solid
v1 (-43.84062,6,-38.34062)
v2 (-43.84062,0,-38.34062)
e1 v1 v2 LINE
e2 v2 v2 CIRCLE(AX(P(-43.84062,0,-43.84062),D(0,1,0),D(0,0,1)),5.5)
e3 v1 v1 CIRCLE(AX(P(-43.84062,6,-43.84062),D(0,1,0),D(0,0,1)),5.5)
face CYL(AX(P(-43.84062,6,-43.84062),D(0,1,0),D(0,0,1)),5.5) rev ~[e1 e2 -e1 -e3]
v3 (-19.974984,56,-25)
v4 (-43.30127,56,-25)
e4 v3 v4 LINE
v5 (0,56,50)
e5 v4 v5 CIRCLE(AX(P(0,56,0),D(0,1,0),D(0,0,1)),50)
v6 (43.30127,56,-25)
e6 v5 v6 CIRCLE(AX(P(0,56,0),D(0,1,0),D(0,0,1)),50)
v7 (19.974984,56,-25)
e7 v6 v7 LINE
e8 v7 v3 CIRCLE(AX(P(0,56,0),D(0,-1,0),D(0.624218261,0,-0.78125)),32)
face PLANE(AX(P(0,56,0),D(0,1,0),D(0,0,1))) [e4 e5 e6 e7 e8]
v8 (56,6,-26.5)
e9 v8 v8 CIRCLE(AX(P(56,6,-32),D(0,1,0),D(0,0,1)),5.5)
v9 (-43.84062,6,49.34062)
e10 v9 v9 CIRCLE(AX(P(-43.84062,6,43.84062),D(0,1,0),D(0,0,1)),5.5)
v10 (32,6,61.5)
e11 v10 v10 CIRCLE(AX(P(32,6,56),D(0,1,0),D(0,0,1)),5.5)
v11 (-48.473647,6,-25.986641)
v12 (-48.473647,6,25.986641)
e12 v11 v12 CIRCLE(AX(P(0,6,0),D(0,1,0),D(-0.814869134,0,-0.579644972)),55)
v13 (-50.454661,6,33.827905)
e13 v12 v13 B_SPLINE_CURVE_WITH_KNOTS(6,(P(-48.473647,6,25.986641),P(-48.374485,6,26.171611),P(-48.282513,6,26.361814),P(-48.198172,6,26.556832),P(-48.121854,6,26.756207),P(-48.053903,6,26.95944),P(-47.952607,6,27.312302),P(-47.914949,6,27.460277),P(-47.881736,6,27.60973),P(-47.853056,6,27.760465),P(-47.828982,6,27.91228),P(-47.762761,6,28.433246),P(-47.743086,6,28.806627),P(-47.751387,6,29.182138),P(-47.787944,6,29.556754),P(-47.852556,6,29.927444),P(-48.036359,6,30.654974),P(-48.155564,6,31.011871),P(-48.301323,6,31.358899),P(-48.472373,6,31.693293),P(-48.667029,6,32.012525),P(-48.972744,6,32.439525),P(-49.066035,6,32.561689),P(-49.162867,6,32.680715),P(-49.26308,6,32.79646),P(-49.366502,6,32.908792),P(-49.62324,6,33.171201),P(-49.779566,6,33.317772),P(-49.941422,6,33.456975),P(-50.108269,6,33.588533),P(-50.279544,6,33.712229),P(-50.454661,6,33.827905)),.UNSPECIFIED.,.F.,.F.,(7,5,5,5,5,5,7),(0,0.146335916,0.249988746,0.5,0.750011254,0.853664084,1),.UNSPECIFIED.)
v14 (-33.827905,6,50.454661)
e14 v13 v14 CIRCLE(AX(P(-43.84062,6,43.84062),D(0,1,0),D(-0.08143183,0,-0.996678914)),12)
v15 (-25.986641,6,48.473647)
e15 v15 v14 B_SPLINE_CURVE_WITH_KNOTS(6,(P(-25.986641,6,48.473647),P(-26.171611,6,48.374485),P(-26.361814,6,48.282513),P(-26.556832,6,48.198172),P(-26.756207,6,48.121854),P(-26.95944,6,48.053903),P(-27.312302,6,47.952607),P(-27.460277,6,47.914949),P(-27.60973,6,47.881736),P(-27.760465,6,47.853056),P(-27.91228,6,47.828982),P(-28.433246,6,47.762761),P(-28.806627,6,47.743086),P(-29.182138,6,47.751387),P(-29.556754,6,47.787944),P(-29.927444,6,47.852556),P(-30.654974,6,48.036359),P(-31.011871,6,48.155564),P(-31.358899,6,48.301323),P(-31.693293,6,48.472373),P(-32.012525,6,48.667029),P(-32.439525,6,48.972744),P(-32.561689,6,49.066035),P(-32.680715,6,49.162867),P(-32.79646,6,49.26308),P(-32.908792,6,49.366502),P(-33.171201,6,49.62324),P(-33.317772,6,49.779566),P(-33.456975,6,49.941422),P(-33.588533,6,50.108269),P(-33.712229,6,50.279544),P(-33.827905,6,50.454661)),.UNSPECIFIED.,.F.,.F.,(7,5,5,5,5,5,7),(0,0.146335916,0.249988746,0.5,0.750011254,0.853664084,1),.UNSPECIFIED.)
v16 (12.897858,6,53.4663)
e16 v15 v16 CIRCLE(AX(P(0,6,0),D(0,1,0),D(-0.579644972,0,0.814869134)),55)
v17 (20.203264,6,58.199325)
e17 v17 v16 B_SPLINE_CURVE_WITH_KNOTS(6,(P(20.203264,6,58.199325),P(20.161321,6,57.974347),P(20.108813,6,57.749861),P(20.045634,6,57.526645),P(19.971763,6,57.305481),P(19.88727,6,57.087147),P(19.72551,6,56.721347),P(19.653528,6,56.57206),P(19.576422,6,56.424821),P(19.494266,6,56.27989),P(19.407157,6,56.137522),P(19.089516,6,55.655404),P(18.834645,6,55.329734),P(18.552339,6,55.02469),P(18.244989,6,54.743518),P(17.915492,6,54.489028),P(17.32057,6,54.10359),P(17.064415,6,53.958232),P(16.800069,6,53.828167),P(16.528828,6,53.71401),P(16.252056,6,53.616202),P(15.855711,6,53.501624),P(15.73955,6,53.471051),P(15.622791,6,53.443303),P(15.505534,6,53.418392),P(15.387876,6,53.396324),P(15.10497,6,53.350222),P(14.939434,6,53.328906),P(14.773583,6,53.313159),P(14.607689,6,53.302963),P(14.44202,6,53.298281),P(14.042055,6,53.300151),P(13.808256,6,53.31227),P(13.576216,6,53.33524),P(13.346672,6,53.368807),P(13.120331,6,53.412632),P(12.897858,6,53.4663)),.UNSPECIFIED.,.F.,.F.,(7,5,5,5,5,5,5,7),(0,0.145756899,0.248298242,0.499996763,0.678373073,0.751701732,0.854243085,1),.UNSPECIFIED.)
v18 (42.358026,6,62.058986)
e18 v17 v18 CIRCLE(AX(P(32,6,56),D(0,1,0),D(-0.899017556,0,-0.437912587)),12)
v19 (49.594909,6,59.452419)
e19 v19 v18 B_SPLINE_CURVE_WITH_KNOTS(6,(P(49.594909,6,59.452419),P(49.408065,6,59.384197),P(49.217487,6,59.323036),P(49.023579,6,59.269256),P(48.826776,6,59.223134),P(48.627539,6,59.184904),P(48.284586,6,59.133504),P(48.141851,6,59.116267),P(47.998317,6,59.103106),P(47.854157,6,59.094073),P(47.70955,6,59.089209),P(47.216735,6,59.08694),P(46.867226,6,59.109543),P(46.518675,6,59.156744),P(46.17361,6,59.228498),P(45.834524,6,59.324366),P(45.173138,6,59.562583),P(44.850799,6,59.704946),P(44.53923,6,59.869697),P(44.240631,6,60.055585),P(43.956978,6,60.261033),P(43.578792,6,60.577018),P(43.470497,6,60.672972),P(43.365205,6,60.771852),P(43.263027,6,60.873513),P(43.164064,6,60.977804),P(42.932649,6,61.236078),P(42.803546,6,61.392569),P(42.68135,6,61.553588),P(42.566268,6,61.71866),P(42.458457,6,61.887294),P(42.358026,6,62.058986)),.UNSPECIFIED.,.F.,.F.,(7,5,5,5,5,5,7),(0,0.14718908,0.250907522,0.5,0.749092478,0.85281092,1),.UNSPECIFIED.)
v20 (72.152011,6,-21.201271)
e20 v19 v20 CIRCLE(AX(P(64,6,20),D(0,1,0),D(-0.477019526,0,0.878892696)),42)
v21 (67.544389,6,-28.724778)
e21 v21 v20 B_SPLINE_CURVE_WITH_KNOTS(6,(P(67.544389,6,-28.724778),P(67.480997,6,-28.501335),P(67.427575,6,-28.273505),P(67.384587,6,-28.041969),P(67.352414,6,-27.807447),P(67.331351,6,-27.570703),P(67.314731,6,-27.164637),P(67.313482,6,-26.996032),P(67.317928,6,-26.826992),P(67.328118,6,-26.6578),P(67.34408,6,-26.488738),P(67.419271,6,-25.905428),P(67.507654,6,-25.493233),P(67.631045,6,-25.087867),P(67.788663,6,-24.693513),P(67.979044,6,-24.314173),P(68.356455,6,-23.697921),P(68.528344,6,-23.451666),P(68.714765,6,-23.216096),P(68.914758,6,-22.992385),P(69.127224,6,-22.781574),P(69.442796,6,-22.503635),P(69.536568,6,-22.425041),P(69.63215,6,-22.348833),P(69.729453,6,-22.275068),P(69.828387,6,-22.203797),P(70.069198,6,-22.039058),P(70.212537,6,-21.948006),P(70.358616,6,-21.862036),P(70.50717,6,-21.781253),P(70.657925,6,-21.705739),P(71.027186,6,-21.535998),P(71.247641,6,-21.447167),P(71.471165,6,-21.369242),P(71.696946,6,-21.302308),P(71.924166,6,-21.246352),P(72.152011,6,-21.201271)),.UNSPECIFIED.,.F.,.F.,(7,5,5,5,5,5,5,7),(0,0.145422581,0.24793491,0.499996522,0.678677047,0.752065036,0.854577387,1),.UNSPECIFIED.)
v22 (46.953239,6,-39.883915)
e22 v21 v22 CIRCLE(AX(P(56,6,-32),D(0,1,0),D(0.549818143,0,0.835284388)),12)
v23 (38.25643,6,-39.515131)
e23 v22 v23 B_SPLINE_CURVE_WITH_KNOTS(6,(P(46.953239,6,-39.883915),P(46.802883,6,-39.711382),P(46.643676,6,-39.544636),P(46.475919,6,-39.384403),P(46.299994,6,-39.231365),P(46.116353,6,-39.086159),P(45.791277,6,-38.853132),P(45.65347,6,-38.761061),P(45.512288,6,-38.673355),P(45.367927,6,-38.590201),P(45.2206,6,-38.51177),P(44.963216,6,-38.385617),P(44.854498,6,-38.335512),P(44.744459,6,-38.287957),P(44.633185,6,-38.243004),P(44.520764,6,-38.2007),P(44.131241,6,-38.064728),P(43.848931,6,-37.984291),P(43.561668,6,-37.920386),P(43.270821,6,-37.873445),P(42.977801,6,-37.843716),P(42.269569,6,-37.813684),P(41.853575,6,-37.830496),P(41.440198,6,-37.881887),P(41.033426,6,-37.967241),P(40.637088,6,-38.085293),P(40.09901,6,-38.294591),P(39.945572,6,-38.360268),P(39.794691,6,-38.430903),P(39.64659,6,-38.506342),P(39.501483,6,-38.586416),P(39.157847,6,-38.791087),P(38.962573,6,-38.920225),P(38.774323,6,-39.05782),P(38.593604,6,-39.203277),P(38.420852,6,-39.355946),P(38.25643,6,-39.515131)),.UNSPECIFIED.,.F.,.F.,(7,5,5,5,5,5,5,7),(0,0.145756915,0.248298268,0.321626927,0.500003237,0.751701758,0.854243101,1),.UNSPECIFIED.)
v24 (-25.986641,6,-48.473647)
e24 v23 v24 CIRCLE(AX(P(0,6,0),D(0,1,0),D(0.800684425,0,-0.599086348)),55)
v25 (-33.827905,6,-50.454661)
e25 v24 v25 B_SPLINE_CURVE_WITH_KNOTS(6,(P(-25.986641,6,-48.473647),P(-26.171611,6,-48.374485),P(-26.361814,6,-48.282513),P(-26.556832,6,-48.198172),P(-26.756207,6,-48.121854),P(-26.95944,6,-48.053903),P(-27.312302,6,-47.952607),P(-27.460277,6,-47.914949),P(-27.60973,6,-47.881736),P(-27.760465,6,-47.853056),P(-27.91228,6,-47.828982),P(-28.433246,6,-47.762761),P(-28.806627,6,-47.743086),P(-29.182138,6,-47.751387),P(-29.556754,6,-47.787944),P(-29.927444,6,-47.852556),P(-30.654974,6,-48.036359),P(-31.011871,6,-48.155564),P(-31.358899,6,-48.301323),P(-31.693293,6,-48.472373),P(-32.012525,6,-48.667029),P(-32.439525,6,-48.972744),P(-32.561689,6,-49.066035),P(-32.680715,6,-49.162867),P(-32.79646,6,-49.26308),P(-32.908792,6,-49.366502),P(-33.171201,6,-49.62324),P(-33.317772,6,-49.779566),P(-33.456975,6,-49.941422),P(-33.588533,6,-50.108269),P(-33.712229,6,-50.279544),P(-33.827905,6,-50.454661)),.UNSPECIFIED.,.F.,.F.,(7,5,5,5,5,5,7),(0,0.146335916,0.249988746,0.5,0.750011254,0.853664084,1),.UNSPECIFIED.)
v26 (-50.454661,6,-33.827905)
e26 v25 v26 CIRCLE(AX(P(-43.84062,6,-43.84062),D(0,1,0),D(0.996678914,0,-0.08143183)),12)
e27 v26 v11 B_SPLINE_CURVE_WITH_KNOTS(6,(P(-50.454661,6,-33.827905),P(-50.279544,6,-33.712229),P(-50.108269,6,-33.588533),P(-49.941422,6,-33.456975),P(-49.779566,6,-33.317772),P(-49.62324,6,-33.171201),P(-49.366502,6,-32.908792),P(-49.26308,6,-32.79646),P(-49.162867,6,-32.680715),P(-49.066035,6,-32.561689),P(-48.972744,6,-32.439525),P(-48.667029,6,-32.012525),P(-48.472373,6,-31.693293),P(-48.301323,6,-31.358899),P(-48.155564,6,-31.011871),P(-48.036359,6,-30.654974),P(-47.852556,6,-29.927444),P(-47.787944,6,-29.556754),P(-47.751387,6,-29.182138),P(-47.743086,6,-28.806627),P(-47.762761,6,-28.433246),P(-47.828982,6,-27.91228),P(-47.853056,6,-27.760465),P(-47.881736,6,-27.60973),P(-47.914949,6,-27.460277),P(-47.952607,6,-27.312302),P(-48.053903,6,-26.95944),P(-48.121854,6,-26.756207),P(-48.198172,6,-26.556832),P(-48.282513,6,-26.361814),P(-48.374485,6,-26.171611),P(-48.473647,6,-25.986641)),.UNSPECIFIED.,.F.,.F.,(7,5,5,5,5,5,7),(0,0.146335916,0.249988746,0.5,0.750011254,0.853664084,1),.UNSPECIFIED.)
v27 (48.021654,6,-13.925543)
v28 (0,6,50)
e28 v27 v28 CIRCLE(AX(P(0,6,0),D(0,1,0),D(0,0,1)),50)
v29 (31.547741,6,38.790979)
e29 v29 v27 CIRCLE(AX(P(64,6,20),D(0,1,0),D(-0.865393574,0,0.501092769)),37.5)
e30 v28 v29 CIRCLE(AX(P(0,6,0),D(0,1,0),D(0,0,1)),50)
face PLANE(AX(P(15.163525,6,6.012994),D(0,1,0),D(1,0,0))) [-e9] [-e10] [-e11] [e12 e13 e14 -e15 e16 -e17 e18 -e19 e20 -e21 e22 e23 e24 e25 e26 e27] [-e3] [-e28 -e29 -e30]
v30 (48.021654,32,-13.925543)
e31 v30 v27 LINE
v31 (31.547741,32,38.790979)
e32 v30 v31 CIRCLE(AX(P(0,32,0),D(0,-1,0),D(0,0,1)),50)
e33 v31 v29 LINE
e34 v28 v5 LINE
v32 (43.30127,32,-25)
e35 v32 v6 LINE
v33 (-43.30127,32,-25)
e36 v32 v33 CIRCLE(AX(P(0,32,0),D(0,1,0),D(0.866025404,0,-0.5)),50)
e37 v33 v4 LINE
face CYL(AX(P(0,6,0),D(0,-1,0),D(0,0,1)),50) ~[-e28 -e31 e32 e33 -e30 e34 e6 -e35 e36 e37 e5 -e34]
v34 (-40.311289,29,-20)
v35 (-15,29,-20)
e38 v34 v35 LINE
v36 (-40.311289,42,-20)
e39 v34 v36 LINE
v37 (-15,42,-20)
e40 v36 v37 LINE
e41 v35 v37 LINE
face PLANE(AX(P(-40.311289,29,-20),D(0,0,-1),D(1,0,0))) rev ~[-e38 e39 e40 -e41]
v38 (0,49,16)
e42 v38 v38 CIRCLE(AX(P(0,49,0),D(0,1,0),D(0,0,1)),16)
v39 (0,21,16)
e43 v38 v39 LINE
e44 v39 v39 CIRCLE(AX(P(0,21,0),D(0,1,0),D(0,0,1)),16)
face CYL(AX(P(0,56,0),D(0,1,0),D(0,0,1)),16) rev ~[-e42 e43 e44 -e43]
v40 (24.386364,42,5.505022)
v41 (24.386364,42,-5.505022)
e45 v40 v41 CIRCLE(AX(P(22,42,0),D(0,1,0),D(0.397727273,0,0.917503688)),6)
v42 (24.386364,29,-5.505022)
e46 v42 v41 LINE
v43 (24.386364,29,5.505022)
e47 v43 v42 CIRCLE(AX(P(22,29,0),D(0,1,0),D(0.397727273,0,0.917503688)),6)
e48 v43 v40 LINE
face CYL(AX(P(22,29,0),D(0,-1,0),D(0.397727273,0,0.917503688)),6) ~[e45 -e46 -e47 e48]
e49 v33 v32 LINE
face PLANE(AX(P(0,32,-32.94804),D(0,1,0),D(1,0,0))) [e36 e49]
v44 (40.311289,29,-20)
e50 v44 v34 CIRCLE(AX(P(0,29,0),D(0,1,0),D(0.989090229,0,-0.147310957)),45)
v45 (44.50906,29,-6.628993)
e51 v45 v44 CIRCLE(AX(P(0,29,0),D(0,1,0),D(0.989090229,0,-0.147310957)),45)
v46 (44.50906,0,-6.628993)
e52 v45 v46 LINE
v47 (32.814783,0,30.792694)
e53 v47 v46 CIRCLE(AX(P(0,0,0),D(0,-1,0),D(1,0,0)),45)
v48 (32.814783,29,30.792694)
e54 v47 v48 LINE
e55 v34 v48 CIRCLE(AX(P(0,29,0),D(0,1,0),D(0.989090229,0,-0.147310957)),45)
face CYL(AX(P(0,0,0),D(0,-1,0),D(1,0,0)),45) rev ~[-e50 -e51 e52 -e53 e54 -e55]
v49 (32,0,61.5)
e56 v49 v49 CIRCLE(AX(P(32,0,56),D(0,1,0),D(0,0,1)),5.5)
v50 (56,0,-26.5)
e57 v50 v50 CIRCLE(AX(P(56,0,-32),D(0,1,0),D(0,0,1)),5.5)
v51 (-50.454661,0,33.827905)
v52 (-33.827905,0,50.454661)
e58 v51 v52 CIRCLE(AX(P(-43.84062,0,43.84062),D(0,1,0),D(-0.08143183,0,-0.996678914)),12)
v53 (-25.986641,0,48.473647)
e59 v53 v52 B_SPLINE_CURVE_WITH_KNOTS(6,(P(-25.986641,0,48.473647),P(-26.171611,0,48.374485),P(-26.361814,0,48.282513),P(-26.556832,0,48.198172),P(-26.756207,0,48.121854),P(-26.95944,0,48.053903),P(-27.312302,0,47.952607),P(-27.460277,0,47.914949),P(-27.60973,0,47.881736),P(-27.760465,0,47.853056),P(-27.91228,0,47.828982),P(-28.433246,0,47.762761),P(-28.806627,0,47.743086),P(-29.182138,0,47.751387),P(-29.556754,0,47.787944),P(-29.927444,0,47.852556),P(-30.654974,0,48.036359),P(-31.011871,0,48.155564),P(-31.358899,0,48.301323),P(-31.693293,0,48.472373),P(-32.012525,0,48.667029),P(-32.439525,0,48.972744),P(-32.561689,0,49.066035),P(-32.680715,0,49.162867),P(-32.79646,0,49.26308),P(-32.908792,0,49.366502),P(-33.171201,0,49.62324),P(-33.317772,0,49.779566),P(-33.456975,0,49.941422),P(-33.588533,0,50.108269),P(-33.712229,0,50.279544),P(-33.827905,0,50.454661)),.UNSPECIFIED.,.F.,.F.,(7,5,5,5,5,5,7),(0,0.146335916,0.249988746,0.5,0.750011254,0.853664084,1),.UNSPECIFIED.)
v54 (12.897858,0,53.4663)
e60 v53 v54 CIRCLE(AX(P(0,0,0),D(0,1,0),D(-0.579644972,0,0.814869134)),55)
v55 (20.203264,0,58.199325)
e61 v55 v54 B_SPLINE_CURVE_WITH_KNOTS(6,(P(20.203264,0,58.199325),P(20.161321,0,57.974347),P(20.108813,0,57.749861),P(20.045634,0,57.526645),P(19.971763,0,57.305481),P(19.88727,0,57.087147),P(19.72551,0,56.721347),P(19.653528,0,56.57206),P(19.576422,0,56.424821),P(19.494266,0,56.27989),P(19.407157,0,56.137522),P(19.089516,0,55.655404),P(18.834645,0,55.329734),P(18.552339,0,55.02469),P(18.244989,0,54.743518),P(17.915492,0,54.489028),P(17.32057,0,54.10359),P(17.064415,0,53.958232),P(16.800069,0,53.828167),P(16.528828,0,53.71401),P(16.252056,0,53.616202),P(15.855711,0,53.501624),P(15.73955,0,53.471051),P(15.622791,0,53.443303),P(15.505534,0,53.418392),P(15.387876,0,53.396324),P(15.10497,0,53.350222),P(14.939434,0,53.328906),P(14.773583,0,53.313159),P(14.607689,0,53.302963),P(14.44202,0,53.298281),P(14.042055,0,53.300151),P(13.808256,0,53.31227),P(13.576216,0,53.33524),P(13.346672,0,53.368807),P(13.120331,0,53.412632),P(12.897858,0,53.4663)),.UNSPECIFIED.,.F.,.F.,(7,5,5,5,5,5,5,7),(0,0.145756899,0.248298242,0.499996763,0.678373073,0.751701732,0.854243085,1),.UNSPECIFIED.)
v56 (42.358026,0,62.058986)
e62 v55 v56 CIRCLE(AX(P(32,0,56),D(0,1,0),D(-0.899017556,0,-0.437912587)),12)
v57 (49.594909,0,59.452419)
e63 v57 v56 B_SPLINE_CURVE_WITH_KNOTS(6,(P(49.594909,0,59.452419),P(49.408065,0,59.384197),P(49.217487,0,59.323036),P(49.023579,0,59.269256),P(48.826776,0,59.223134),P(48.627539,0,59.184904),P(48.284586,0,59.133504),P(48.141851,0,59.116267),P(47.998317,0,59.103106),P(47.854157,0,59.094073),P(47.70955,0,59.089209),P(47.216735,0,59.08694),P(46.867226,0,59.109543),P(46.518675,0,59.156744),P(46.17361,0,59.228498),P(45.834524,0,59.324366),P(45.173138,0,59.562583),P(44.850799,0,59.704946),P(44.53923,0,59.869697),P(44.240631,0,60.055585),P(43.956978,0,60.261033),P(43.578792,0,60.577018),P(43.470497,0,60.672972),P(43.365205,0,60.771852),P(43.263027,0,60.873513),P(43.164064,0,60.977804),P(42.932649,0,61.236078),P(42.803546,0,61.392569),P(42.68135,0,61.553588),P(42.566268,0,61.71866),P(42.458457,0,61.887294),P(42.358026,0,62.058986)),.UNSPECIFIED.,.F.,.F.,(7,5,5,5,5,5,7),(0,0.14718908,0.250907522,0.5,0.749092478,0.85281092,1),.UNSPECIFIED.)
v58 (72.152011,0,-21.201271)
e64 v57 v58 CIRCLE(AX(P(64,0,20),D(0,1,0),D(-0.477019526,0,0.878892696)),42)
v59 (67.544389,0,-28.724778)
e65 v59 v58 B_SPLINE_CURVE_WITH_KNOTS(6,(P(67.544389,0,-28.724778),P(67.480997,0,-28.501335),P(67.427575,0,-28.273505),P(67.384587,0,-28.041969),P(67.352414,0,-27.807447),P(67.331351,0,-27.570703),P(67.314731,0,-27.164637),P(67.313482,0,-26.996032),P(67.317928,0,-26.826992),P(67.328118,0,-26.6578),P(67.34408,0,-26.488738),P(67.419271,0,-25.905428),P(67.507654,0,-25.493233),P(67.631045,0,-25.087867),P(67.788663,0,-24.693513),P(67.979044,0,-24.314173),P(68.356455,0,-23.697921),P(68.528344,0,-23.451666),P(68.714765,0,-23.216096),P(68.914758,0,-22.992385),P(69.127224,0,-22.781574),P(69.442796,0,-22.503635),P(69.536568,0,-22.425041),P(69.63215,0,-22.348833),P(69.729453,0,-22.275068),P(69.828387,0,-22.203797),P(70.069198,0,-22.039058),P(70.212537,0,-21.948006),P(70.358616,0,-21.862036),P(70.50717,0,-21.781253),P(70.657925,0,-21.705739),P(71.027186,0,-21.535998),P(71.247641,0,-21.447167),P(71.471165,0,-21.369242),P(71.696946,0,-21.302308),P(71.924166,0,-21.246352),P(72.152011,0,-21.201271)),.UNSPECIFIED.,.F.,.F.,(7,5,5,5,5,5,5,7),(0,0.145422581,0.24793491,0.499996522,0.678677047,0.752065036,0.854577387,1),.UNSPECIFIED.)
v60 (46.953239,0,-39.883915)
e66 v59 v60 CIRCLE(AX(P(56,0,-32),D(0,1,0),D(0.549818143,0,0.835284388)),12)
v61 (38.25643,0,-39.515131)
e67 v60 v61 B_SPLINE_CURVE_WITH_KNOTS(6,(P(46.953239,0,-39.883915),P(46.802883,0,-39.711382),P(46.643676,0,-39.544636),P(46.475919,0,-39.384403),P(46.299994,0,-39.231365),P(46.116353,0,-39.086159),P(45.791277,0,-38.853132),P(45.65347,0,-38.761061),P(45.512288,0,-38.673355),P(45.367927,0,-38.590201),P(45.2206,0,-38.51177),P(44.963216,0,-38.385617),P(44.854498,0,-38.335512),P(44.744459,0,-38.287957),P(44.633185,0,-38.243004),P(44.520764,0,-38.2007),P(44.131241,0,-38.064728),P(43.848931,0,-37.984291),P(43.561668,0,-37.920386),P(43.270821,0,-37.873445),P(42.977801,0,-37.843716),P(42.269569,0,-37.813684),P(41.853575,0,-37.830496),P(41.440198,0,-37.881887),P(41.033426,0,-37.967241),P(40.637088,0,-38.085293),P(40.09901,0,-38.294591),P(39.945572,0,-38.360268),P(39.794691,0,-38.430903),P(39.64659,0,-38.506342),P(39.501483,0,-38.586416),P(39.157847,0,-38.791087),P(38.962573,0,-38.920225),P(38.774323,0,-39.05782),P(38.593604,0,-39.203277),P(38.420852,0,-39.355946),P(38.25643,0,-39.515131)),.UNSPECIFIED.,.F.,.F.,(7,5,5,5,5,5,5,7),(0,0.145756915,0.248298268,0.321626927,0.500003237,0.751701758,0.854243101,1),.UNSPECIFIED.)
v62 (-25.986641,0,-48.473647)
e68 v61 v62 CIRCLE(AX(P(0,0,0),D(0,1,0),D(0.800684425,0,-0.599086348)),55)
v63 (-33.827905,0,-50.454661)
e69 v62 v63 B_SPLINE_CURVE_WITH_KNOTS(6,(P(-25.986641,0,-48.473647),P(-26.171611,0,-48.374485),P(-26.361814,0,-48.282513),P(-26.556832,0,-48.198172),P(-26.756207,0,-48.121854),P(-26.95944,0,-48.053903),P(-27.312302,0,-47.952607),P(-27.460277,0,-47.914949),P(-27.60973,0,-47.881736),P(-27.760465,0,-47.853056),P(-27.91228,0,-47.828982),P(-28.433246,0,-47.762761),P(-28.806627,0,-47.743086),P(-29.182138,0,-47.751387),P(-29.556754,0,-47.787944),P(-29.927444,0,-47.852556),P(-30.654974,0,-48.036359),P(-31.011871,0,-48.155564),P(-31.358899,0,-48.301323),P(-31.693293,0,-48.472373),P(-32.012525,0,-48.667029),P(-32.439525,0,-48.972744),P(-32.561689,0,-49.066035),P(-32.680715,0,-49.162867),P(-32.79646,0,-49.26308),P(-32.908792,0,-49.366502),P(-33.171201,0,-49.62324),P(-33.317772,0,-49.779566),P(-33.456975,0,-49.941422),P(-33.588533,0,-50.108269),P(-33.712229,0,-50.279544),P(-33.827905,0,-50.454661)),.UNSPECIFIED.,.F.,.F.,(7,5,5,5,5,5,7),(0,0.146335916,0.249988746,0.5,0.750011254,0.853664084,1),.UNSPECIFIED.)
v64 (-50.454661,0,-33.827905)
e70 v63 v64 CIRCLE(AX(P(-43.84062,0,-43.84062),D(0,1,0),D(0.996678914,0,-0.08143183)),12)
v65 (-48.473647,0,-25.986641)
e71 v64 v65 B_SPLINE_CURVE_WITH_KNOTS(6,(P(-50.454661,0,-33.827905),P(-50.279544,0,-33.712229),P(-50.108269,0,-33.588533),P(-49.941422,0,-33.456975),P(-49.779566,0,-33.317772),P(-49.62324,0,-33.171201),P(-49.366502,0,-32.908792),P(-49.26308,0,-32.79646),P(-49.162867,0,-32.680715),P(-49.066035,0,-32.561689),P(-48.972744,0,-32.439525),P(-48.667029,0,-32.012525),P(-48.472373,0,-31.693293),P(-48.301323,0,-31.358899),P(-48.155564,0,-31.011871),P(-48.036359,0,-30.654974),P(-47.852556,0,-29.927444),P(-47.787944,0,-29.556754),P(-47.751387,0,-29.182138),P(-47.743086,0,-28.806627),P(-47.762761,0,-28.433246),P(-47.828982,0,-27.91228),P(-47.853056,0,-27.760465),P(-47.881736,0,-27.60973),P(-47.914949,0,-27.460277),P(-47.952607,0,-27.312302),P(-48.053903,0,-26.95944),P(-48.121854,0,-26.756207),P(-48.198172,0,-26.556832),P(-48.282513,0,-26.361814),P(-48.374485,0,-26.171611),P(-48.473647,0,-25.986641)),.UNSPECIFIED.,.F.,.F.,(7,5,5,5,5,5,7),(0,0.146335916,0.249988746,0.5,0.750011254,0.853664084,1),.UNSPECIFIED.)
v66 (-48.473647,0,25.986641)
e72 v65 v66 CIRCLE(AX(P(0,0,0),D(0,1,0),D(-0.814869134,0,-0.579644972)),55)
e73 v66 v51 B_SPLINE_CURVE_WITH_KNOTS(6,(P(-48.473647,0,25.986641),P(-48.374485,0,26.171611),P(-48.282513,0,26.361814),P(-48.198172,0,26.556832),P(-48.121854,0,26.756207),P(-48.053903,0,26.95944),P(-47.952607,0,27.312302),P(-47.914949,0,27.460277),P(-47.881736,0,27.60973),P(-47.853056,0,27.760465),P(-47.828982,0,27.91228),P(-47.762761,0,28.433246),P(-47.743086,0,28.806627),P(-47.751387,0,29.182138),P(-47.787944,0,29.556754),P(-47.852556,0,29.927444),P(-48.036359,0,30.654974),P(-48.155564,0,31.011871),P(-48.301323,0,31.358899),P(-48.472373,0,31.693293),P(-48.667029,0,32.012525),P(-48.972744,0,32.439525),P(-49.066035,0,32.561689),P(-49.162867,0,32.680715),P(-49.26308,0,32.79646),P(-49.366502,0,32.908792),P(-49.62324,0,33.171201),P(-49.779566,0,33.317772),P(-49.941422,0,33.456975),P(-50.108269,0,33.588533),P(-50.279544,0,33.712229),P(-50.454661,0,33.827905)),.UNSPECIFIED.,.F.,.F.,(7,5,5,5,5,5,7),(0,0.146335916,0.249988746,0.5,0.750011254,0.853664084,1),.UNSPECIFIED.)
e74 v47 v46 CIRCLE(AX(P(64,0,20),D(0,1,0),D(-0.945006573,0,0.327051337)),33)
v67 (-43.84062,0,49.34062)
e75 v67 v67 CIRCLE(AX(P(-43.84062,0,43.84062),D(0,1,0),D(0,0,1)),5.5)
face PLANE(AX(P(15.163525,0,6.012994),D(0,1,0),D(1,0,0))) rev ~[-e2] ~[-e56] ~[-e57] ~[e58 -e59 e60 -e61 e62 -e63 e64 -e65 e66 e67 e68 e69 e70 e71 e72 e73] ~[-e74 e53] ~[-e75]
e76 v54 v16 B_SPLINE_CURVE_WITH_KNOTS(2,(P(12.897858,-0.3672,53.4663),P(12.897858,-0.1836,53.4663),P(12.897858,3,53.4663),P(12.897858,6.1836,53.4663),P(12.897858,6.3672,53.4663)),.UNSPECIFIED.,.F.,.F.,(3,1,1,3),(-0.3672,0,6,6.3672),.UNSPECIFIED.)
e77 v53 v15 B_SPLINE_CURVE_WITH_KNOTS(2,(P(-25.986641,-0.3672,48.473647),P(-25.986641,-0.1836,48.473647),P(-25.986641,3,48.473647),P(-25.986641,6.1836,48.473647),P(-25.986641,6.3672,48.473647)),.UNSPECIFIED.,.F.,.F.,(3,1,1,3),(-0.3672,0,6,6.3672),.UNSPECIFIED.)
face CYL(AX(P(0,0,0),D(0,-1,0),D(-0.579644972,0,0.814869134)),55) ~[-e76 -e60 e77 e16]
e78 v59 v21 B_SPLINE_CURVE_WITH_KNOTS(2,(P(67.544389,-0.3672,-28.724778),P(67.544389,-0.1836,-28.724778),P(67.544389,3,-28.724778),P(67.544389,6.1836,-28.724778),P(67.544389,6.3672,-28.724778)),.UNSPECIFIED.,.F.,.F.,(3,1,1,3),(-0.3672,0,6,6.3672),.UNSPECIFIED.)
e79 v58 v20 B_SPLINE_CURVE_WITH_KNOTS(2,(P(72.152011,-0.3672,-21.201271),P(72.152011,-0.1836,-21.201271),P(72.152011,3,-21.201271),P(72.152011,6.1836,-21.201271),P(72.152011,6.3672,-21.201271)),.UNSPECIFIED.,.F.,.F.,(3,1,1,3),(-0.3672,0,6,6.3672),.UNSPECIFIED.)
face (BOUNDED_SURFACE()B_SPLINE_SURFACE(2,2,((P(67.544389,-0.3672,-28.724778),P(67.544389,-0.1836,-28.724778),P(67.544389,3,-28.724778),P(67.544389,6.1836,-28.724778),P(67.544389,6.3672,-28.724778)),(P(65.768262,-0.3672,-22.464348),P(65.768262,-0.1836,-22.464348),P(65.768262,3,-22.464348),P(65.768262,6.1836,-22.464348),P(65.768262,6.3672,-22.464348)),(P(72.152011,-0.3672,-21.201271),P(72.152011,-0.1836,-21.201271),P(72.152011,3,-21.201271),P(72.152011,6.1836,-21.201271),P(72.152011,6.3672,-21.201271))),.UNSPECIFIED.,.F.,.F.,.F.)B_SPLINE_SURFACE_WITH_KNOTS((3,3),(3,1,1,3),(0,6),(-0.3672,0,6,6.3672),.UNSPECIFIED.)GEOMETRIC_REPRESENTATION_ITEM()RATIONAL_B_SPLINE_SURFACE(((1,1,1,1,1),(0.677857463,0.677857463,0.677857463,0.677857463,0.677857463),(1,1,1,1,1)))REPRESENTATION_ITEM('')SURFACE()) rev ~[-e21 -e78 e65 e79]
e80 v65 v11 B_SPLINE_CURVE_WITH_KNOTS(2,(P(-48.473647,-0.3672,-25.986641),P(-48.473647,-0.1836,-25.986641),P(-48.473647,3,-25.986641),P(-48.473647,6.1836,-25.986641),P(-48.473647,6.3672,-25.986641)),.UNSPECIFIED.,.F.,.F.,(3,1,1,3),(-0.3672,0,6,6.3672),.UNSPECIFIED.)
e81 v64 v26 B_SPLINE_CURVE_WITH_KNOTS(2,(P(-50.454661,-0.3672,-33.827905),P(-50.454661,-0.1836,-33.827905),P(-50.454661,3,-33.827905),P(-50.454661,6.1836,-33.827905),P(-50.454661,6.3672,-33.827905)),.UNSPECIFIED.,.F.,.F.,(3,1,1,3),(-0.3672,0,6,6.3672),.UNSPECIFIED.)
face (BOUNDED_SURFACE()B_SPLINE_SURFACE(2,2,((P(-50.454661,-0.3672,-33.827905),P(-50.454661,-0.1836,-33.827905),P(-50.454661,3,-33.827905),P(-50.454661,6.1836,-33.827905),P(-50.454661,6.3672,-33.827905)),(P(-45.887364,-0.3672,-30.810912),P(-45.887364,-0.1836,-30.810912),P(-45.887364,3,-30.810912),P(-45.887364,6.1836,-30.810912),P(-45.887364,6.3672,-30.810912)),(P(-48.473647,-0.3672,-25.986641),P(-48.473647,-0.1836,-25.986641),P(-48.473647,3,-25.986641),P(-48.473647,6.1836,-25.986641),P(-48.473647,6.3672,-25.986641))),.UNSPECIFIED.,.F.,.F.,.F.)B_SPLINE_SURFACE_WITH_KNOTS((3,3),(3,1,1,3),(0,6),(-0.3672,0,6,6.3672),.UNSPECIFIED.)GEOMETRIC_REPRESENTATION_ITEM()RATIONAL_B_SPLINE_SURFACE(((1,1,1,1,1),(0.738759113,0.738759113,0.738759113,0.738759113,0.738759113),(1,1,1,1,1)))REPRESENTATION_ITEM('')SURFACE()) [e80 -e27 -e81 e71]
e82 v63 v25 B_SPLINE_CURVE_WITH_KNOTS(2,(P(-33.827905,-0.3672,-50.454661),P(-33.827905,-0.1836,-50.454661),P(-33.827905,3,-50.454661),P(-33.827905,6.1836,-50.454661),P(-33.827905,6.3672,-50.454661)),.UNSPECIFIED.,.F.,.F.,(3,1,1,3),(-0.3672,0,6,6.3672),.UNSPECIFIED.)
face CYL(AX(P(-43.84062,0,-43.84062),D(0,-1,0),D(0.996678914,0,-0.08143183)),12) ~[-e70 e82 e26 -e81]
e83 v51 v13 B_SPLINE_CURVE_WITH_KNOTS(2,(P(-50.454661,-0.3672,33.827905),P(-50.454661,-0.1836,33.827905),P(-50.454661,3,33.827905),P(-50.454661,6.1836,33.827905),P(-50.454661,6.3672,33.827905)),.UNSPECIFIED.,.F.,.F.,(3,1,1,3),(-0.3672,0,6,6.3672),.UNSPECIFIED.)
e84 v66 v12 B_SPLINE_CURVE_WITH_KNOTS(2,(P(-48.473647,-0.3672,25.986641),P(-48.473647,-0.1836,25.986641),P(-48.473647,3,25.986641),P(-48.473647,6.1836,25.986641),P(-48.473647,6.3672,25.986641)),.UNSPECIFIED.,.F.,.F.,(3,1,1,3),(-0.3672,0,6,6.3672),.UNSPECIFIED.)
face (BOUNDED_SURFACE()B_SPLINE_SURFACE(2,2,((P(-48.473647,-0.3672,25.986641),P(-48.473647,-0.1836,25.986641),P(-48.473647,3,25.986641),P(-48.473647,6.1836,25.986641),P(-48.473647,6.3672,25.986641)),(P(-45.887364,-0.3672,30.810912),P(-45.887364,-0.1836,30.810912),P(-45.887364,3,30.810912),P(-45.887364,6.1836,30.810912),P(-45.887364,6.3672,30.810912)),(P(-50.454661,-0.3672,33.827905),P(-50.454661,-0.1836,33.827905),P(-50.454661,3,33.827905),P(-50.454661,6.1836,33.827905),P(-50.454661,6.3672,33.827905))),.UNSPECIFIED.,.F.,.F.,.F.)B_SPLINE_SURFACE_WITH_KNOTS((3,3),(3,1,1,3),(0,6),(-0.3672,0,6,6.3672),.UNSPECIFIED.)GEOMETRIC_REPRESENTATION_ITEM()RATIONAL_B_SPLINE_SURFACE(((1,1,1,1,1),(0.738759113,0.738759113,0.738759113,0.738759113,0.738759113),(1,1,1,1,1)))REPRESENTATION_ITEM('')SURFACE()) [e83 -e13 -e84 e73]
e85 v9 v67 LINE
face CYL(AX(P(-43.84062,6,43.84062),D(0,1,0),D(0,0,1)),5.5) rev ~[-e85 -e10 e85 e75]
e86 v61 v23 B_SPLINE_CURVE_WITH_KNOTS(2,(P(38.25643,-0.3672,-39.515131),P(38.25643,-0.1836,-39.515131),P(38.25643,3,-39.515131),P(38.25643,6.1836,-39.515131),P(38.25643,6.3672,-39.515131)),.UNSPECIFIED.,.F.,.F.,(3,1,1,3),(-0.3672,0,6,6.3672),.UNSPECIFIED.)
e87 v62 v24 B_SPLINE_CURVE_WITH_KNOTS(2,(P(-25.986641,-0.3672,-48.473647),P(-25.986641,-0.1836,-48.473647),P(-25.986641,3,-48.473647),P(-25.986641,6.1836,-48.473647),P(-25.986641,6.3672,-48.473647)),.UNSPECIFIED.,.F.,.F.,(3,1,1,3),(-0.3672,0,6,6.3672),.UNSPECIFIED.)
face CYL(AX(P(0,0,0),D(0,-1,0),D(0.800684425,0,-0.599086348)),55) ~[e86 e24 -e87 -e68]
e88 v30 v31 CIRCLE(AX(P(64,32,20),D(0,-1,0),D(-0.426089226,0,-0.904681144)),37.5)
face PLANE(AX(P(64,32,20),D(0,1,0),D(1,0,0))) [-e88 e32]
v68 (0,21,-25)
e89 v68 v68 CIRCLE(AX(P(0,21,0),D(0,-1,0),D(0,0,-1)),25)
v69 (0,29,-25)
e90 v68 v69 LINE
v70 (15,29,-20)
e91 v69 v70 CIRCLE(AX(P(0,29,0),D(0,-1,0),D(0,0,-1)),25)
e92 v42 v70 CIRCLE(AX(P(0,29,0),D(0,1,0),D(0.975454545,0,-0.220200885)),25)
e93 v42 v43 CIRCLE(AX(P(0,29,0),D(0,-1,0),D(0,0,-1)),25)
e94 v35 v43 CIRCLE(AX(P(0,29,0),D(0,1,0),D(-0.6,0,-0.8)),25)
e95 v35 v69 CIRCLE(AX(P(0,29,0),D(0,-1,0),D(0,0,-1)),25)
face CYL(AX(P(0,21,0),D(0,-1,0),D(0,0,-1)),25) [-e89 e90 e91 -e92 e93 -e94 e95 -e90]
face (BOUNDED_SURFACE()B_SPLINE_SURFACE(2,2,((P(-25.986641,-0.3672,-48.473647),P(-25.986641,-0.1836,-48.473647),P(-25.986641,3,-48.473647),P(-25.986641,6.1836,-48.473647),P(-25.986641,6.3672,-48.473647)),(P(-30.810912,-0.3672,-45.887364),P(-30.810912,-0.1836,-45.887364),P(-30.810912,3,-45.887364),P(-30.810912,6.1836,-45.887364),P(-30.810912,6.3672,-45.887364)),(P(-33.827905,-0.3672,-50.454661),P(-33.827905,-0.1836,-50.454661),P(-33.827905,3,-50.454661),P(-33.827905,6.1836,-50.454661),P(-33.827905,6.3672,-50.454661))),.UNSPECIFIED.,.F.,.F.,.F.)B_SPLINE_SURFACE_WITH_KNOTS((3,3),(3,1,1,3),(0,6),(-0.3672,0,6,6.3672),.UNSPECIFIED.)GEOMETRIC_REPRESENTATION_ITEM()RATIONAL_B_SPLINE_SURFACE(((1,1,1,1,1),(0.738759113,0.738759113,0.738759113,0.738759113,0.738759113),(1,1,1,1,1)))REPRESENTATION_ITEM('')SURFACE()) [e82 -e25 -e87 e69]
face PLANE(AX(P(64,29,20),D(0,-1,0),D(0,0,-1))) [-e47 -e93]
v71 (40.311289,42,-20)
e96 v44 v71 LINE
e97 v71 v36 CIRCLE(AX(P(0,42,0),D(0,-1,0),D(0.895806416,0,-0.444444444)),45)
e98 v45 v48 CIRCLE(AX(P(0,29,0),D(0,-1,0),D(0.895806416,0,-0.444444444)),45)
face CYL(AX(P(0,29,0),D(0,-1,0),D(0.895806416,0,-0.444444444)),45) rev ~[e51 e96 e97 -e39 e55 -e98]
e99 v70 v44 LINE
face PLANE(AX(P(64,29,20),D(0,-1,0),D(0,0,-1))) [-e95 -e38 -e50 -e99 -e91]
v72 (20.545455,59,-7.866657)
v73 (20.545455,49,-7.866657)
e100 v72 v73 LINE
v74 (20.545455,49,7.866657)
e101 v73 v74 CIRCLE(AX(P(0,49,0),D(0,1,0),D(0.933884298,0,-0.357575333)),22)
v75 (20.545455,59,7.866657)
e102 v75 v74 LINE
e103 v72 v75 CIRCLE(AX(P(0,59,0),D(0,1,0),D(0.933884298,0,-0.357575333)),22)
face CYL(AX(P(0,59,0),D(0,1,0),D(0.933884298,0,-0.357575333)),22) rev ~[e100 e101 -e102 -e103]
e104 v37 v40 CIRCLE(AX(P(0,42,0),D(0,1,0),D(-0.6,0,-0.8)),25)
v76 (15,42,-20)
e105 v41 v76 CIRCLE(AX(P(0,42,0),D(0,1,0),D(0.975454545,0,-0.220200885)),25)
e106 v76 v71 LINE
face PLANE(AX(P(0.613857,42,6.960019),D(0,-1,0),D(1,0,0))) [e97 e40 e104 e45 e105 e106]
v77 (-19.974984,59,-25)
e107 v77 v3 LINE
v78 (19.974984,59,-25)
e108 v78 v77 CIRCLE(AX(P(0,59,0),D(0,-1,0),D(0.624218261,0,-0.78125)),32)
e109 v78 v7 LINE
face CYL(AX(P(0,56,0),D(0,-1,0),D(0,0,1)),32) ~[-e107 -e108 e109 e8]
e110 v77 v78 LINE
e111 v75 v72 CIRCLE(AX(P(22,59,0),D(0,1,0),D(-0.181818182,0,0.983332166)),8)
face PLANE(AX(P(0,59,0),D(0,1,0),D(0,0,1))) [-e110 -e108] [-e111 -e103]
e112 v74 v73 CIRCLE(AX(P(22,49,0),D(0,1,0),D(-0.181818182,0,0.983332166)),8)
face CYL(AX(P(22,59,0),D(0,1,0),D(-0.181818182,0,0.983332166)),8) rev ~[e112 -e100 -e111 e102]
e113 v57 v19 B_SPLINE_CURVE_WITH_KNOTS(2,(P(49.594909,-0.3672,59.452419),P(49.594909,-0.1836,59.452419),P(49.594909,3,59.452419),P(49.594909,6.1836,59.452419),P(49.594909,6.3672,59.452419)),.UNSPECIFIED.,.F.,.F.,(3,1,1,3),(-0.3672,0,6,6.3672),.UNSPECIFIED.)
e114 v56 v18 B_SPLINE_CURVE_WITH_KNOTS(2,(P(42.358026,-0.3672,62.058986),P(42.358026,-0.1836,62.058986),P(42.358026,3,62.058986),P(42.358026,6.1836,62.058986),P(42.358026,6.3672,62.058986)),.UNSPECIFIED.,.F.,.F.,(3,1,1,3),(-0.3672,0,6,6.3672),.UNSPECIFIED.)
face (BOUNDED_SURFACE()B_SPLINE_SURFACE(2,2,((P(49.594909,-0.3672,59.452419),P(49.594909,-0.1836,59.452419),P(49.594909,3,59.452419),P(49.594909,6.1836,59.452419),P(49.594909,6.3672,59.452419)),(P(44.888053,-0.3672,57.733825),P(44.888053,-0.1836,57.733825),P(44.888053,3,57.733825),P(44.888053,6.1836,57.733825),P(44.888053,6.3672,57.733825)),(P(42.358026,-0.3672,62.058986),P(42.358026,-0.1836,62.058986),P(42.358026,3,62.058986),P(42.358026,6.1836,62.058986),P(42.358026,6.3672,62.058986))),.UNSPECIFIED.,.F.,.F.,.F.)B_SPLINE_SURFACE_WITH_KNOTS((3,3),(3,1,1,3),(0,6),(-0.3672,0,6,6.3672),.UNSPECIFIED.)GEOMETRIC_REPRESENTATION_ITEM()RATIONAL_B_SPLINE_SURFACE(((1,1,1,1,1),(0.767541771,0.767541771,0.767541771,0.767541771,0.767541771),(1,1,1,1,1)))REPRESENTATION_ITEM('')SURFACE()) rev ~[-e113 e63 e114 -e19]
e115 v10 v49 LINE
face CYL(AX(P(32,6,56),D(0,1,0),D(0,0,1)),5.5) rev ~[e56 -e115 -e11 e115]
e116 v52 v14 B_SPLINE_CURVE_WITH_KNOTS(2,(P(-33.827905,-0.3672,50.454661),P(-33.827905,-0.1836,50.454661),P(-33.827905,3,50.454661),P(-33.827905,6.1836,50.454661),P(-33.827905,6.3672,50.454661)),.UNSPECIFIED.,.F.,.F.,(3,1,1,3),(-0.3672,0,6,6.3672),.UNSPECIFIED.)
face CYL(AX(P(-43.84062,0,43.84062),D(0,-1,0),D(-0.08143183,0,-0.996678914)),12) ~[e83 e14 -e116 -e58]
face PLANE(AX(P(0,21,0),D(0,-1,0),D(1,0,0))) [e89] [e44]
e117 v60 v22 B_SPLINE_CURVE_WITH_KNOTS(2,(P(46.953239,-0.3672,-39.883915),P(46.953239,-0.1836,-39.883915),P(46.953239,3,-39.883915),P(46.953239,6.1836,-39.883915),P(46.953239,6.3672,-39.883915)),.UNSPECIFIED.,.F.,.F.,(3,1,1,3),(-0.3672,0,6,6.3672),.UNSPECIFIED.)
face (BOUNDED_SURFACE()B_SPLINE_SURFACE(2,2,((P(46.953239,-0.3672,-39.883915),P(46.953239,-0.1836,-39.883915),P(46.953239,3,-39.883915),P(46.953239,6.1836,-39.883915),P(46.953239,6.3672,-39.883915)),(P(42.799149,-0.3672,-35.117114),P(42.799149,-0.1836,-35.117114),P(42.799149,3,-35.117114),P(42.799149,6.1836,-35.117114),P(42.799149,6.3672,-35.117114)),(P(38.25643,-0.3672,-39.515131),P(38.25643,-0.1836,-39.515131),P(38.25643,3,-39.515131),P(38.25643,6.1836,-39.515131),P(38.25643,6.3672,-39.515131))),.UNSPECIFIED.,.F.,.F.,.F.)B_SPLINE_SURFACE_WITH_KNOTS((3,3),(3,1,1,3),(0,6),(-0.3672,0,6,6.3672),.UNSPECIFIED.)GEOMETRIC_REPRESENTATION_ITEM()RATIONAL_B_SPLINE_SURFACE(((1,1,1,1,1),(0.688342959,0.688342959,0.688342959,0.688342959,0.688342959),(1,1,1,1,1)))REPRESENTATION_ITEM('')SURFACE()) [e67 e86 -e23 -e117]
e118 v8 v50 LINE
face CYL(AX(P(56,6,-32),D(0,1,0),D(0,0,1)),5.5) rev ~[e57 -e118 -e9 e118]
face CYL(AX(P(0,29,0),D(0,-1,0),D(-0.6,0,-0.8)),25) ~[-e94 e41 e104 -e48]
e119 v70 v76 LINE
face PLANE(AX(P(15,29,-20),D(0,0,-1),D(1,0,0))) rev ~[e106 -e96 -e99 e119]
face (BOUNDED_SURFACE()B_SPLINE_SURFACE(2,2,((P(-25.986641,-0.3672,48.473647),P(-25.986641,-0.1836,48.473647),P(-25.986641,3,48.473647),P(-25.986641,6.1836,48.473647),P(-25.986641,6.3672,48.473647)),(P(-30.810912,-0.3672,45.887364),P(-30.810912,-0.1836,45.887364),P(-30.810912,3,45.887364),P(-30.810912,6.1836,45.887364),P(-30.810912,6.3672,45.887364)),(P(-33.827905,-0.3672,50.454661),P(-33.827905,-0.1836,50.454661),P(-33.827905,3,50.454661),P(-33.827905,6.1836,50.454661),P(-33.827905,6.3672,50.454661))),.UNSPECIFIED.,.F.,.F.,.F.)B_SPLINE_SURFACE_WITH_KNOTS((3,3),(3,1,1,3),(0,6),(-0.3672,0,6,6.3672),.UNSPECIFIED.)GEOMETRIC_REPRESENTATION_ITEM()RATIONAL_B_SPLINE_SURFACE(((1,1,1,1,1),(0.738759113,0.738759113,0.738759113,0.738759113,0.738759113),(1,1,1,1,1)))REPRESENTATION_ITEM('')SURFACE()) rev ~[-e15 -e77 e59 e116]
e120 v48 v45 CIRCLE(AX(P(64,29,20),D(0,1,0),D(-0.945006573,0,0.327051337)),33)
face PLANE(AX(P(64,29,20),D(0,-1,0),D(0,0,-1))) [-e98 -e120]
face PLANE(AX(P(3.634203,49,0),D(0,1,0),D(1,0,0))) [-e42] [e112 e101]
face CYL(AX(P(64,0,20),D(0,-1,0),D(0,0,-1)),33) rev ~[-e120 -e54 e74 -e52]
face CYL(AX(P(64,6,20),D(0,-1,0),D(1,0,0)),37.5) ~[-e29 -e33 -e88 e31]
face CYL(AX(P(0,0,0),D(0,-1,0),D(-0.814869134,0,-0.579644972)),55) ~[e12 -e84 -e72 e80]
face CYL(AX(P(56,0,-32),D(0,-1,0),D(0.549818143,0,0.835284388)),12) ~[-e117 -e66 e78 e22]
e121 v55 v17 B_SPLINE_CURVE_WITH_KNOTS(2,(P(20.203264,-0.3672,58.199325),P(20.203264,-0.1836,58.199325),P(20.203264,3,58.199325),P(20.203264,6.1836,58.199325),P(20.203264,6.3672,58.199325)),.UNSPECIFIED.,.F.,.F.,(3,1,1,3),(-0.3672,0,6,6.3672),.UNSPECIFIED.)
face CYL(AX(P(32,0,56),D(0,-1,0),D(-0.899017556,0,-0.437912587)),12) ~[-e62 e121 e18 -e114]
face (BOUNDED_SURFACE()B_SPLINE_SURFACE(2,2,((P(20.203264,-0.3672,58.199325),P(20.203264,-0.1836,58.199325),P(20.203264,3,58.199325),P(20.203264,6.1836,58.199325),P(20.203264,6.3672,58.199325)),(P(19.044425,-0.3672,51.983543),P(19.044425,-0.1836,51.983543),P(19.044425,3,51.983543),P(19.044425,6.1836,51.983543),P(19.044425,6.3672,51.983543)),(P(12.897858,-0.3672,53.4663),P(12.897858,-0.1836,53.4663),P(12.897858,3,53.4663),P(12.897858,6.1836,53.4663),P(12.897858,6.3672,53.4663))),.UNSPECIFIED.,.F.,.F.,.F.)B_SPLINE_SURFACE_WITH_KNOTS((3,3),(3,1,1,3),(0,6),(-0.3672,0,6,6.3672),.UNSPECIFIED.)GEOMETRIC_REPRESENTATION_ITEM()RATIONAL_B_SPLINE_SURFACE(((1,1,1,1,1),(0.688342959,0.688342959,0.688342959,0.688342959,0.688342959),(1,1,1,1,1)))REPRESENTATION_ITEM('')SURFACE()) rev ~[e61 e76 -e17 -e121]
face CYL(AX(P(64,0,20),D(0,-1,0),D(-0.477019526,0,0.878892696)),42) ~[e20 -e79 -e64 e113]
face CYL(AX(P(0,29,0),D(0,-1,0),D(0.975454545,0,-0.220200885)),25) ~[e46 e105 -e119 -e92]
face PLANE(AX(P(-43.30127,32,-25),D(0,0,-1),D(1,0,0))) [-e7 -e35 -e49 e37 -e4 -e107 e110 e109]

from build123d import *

# Parameters (mm, degrees)
BOSS_EXTRUDE1_DEPTH = 6
SKETCH2_R           = 5.5
CUT_EXTRUDE1_DEPTH  = 6
SKETCH3_R           = 50
BOSS_EXTRUDE2_DEPTH = 50
SKETCH4_R           = 37.5
BOSS_EXTRUDE3_DEPTH = 26
SKETCH5_R           = 32
BOSS_EXTRUDE4_DEPTH = 3
FILLET2_R           = 6
FILLET3_R           = 6
CUT_EXTRUDE2_START  = -27
CUT_EXTRUDE2_DEPTH  = 27
CUT_EXTRUDE3_DEPTH  = 10
SKETCH12_R          = 33
CUT_EXTRUDE9_DEPTH  = 29
SKETCH21_R          = 16
CUT_EXTRUDE16_DEPTH = 35
SKETCH22_R          = 45
CUT_EXTRUDE18_DEPTH = 21
SKETCH34_R          = 45
SKETCH34_R_2        = 25
CUT_EXTRUDE25_DEPTH = 8
CUT_EXTRUDE26_DEPTH = 13


with BuildPart() as part:
    # Sketch1 → Boss-Extrude1 (new body)
    with BuildSketch(Plane(origin=(0, 0, 0), x_dir=(1, 0, 0), z_dir=(0, 1, 0))):
        with BuildLine():
            ThreePointArc((21.211789327, -50.745048956), (28.860136885, -67.581936782), (43.965179902, -56.913493246))
            ThreePointArc((43.965179902, -56.913493246), (104.875389558, -29.654145663), (62.597817721, 21.976587342))
            ThreePointArc((62.597817721, 21.976587342), (62.107138398, 42.329707672), (44.037643352, 32.949749135))
            ThreePointArc((44.037643352, 32.949749135), (8.49481412, 54.340023308), (-31.880473469, 44.817802394))
            ThreePointArc((-31.880473469, 44.817802394), (-52.325901808, 52.325901808), (-44.817802394, 31.880473469))
            ThreePointArc((-44.817802394, 31.880473469), (-55, 0), (-44.817802394, -31.880473469))
            ThreePointArc((-44.817802394, -31.880473469), (-52.325901808, -52.325901808), (-31.880473469, -44.817802394))
            ThreePointArc((-31.880473469, -44.817802394), (-6.102316632, -54.660421986), (21.211789327, -50.745048956))
        make_face()
    extrude(amount=BOSS_EXTRUDE1_DEPTH)

    # Sketch2 → Cut-Extrude1 (cut)
    with BuildSketch(Plane(origin=(0, 6, 0), x_dir=(1, 0, 0), z_dir=(0, 1, 0))):
        with Locations(Location((56, 32, 0), (0, 0, 270))):
            Circle(SKETCH2_R)
        with Locations(Location((-43.840620434, 43.840620434, 0), (0, 0, 270))):
            Circle(SKETCH2_R)
        with Locations(Location((-43.840620434, -43.840620434, 0), (0, 0, 270))):
            Circle(SKETCH2_R)
        with Locations(Location((32, -56, 0), (0, 0, 270))):
            Circle(SKETCH2_R)
    extrude(amount=-CUT_EXTRUDE1_DEPTH, mode=Mode.SUBTRACT)

    # Sketch3 → Boss-Extrude2 (add)
    with BuildSketch(Plane(origin=(0, 6, 0), x_dir=(1, 0, 0), z_dir=(0, 1, 0))):
        with Locations(Location((0, 0, 0), (0, 0, 270))):
            Circle(SKETCH3_R)
    extrude(amount=BOSS_EXTRUDE2_DEPTH)

    # Sketch4 → Boss-Extrude3 (add)
    with BuildSketch(Plane(origin=(0, 6, 0), x_dir=(1, 0, 0), z_dir=(0, 1, 0))):
        with Locations((64, -20)):
            Circle(SKETCH4_R)
    extrude(amount=BOSS_EXTRUDE3_DEPTH)

    # Sketch5 → Boss-Extrude4 (add)
    with BuildSketch(Plane(origin=(0, 56, 0), x_dir=(1, 0, 0), z_dir=(0, 1, 0))):
        with Locations(Location((0, 0, 0), (0, 0, 270))):
            Circle(SKETCH5_R)
    extrude(amount=BOSS_EXTRUDE4_DEPTH)

    # Fillet2
    fillet2_edges = [part.edges().sort_by_distance(p)[0] for p in [
        (44.037643352, 3, -32.949749135),
    ]]
    fillet(fillet2_edges, radius=FILLET2_R)

    # Fillet3
    fillet3_edges = [part.edges().sort_by_distance(p)[0] for p in [
        (21.211789327, 3, 50.745048956),
        (-31.880473469, 3, 44.817802394),
        (-44.817802394, 3, 31.880473469),
        (-44.817802394, 3, -31.880473469),
        (-31.880473469, 3, -44.817802394),
        (62.597817721, 3, -21.976587342),
        (43.965179902, 3, 56.913493246),
    ]]
    fillet(fillet3_edges, radius=FILLET3_R)

    # Sketch6 → Cut-Extrude2 (cut)
    with BuildSketch(Plane(origin=(0, 59, 0), x_dir=(1, 0, 0), z_dir=(0, 1, 0)).offset(CUT_EXTRUDE2_START)):
        with BuildLine():
            Line((0, 25), (43.301270189, 25))
            ThreePointArc((43.301270189, 25), (0, 50), (-43.301270189, 25))
            Line((-43.301270189, 25), (0, 25))
        make_face()
    extrude(amount=CUT_EXTRUDE2_DEPTH, mode=Mode.SUBTRACT)

    # Sketch7 → Cut-Extrude3 (cut)
    with BuildSketch(Plane(origin=(0, 59, 0), x_dir=(1, 0, 0), z_dir=(0, 1, 0))):
        with BuildLine():
            ThreePointArc((20.545454545, 7.866657328), (-22, 0), (20.545454545, -7.866657328))
            ThreePointArc((20.545454545, -7.866657328), (30, 0), (20.545454545, 7.866657328))
        make_face()
    extrude(amount=-CUT_EXTRUDE3_DEPTH, mode=Mode.SUBTRACT)

    # Sketch12 → Cut-Extrude9 (cut)
    with BuildSketch(Plane.XZ):
        with Locations(Location((64, 20, 0), (0, 0, 270))):
            Circle(SKETCH12_R)
    extrude(amount=-CUT_EXTRUDE9_DEPTH, mode=Mode.SUBTRACT)

    # Sketch21 → Cut-Extrude16 (cut)
    with BuildSketch(Plane(origin=(0, 56, 0), x_dir=(1, 0, 0), z_dir=(0, 1, 0))):
        with Locations(Location((0, 0, 0), (0, 0, 270))):
            Circle(SKETCH21_R)
    extrude(amount=-CUT_EXTRUDE16_DEPTH, mode=Mode.SUBTRACT)

    # Sketch22 → Cut-Extrude18 (cut)
    with BuildSketch(Plane.XZ):
        Circle(SKETCH22_R)
    extrude(amount=-CUT_EXTRUDE18_DEPTH, mode=Mode.SUBTRACT)

    # Sketch34 → Cut-Extrude25 (cut)
    with BuildSketch(Plane(origin=(0, 21, 0), x_dir=(-1, 0, 0), z_dir=(0, -1, 0))):
        Circle(SKETCH34_R)
        with Locations(Location((0, 0, 0), (0, 0, 90))):
            Circle(SKETCH34_R_2, mode=Mode.SUBTRACT)
    extrude(amount=-CUT_EXTRUDE25_DEPTH, mode=Mode.SUBTRACT)

    # Sketch35 → Cut-Extrude26 (cut)
    with BuildSketch(Plane.XZ.offset(-29)):
        with BuildLine():
            Line((15, -20), (40.311288741, -20))
            ThreePointArc((40.311288741, -20), (0, 45), (-40.311288741, -20))
            Line((-40.311288741, -20), (-15, -20))
            ThreePointArc((-15, -20), (-13.588689929, 20.984458678), (24.386363636, 5.505022125))
            ThreePointArc((24.386363636, 5.505022125), (28, 0), (24.386363636, -5.505022125))
            ThreePointArc((24.386363636, -5.505022125), (20.984458678, -13.588689929), (15, -20))
        make_face()
    extrude(amount=-CUT_EXTRUDE26_DEPTH, mode=Mode.SUBTRACT)


solid = part.part
